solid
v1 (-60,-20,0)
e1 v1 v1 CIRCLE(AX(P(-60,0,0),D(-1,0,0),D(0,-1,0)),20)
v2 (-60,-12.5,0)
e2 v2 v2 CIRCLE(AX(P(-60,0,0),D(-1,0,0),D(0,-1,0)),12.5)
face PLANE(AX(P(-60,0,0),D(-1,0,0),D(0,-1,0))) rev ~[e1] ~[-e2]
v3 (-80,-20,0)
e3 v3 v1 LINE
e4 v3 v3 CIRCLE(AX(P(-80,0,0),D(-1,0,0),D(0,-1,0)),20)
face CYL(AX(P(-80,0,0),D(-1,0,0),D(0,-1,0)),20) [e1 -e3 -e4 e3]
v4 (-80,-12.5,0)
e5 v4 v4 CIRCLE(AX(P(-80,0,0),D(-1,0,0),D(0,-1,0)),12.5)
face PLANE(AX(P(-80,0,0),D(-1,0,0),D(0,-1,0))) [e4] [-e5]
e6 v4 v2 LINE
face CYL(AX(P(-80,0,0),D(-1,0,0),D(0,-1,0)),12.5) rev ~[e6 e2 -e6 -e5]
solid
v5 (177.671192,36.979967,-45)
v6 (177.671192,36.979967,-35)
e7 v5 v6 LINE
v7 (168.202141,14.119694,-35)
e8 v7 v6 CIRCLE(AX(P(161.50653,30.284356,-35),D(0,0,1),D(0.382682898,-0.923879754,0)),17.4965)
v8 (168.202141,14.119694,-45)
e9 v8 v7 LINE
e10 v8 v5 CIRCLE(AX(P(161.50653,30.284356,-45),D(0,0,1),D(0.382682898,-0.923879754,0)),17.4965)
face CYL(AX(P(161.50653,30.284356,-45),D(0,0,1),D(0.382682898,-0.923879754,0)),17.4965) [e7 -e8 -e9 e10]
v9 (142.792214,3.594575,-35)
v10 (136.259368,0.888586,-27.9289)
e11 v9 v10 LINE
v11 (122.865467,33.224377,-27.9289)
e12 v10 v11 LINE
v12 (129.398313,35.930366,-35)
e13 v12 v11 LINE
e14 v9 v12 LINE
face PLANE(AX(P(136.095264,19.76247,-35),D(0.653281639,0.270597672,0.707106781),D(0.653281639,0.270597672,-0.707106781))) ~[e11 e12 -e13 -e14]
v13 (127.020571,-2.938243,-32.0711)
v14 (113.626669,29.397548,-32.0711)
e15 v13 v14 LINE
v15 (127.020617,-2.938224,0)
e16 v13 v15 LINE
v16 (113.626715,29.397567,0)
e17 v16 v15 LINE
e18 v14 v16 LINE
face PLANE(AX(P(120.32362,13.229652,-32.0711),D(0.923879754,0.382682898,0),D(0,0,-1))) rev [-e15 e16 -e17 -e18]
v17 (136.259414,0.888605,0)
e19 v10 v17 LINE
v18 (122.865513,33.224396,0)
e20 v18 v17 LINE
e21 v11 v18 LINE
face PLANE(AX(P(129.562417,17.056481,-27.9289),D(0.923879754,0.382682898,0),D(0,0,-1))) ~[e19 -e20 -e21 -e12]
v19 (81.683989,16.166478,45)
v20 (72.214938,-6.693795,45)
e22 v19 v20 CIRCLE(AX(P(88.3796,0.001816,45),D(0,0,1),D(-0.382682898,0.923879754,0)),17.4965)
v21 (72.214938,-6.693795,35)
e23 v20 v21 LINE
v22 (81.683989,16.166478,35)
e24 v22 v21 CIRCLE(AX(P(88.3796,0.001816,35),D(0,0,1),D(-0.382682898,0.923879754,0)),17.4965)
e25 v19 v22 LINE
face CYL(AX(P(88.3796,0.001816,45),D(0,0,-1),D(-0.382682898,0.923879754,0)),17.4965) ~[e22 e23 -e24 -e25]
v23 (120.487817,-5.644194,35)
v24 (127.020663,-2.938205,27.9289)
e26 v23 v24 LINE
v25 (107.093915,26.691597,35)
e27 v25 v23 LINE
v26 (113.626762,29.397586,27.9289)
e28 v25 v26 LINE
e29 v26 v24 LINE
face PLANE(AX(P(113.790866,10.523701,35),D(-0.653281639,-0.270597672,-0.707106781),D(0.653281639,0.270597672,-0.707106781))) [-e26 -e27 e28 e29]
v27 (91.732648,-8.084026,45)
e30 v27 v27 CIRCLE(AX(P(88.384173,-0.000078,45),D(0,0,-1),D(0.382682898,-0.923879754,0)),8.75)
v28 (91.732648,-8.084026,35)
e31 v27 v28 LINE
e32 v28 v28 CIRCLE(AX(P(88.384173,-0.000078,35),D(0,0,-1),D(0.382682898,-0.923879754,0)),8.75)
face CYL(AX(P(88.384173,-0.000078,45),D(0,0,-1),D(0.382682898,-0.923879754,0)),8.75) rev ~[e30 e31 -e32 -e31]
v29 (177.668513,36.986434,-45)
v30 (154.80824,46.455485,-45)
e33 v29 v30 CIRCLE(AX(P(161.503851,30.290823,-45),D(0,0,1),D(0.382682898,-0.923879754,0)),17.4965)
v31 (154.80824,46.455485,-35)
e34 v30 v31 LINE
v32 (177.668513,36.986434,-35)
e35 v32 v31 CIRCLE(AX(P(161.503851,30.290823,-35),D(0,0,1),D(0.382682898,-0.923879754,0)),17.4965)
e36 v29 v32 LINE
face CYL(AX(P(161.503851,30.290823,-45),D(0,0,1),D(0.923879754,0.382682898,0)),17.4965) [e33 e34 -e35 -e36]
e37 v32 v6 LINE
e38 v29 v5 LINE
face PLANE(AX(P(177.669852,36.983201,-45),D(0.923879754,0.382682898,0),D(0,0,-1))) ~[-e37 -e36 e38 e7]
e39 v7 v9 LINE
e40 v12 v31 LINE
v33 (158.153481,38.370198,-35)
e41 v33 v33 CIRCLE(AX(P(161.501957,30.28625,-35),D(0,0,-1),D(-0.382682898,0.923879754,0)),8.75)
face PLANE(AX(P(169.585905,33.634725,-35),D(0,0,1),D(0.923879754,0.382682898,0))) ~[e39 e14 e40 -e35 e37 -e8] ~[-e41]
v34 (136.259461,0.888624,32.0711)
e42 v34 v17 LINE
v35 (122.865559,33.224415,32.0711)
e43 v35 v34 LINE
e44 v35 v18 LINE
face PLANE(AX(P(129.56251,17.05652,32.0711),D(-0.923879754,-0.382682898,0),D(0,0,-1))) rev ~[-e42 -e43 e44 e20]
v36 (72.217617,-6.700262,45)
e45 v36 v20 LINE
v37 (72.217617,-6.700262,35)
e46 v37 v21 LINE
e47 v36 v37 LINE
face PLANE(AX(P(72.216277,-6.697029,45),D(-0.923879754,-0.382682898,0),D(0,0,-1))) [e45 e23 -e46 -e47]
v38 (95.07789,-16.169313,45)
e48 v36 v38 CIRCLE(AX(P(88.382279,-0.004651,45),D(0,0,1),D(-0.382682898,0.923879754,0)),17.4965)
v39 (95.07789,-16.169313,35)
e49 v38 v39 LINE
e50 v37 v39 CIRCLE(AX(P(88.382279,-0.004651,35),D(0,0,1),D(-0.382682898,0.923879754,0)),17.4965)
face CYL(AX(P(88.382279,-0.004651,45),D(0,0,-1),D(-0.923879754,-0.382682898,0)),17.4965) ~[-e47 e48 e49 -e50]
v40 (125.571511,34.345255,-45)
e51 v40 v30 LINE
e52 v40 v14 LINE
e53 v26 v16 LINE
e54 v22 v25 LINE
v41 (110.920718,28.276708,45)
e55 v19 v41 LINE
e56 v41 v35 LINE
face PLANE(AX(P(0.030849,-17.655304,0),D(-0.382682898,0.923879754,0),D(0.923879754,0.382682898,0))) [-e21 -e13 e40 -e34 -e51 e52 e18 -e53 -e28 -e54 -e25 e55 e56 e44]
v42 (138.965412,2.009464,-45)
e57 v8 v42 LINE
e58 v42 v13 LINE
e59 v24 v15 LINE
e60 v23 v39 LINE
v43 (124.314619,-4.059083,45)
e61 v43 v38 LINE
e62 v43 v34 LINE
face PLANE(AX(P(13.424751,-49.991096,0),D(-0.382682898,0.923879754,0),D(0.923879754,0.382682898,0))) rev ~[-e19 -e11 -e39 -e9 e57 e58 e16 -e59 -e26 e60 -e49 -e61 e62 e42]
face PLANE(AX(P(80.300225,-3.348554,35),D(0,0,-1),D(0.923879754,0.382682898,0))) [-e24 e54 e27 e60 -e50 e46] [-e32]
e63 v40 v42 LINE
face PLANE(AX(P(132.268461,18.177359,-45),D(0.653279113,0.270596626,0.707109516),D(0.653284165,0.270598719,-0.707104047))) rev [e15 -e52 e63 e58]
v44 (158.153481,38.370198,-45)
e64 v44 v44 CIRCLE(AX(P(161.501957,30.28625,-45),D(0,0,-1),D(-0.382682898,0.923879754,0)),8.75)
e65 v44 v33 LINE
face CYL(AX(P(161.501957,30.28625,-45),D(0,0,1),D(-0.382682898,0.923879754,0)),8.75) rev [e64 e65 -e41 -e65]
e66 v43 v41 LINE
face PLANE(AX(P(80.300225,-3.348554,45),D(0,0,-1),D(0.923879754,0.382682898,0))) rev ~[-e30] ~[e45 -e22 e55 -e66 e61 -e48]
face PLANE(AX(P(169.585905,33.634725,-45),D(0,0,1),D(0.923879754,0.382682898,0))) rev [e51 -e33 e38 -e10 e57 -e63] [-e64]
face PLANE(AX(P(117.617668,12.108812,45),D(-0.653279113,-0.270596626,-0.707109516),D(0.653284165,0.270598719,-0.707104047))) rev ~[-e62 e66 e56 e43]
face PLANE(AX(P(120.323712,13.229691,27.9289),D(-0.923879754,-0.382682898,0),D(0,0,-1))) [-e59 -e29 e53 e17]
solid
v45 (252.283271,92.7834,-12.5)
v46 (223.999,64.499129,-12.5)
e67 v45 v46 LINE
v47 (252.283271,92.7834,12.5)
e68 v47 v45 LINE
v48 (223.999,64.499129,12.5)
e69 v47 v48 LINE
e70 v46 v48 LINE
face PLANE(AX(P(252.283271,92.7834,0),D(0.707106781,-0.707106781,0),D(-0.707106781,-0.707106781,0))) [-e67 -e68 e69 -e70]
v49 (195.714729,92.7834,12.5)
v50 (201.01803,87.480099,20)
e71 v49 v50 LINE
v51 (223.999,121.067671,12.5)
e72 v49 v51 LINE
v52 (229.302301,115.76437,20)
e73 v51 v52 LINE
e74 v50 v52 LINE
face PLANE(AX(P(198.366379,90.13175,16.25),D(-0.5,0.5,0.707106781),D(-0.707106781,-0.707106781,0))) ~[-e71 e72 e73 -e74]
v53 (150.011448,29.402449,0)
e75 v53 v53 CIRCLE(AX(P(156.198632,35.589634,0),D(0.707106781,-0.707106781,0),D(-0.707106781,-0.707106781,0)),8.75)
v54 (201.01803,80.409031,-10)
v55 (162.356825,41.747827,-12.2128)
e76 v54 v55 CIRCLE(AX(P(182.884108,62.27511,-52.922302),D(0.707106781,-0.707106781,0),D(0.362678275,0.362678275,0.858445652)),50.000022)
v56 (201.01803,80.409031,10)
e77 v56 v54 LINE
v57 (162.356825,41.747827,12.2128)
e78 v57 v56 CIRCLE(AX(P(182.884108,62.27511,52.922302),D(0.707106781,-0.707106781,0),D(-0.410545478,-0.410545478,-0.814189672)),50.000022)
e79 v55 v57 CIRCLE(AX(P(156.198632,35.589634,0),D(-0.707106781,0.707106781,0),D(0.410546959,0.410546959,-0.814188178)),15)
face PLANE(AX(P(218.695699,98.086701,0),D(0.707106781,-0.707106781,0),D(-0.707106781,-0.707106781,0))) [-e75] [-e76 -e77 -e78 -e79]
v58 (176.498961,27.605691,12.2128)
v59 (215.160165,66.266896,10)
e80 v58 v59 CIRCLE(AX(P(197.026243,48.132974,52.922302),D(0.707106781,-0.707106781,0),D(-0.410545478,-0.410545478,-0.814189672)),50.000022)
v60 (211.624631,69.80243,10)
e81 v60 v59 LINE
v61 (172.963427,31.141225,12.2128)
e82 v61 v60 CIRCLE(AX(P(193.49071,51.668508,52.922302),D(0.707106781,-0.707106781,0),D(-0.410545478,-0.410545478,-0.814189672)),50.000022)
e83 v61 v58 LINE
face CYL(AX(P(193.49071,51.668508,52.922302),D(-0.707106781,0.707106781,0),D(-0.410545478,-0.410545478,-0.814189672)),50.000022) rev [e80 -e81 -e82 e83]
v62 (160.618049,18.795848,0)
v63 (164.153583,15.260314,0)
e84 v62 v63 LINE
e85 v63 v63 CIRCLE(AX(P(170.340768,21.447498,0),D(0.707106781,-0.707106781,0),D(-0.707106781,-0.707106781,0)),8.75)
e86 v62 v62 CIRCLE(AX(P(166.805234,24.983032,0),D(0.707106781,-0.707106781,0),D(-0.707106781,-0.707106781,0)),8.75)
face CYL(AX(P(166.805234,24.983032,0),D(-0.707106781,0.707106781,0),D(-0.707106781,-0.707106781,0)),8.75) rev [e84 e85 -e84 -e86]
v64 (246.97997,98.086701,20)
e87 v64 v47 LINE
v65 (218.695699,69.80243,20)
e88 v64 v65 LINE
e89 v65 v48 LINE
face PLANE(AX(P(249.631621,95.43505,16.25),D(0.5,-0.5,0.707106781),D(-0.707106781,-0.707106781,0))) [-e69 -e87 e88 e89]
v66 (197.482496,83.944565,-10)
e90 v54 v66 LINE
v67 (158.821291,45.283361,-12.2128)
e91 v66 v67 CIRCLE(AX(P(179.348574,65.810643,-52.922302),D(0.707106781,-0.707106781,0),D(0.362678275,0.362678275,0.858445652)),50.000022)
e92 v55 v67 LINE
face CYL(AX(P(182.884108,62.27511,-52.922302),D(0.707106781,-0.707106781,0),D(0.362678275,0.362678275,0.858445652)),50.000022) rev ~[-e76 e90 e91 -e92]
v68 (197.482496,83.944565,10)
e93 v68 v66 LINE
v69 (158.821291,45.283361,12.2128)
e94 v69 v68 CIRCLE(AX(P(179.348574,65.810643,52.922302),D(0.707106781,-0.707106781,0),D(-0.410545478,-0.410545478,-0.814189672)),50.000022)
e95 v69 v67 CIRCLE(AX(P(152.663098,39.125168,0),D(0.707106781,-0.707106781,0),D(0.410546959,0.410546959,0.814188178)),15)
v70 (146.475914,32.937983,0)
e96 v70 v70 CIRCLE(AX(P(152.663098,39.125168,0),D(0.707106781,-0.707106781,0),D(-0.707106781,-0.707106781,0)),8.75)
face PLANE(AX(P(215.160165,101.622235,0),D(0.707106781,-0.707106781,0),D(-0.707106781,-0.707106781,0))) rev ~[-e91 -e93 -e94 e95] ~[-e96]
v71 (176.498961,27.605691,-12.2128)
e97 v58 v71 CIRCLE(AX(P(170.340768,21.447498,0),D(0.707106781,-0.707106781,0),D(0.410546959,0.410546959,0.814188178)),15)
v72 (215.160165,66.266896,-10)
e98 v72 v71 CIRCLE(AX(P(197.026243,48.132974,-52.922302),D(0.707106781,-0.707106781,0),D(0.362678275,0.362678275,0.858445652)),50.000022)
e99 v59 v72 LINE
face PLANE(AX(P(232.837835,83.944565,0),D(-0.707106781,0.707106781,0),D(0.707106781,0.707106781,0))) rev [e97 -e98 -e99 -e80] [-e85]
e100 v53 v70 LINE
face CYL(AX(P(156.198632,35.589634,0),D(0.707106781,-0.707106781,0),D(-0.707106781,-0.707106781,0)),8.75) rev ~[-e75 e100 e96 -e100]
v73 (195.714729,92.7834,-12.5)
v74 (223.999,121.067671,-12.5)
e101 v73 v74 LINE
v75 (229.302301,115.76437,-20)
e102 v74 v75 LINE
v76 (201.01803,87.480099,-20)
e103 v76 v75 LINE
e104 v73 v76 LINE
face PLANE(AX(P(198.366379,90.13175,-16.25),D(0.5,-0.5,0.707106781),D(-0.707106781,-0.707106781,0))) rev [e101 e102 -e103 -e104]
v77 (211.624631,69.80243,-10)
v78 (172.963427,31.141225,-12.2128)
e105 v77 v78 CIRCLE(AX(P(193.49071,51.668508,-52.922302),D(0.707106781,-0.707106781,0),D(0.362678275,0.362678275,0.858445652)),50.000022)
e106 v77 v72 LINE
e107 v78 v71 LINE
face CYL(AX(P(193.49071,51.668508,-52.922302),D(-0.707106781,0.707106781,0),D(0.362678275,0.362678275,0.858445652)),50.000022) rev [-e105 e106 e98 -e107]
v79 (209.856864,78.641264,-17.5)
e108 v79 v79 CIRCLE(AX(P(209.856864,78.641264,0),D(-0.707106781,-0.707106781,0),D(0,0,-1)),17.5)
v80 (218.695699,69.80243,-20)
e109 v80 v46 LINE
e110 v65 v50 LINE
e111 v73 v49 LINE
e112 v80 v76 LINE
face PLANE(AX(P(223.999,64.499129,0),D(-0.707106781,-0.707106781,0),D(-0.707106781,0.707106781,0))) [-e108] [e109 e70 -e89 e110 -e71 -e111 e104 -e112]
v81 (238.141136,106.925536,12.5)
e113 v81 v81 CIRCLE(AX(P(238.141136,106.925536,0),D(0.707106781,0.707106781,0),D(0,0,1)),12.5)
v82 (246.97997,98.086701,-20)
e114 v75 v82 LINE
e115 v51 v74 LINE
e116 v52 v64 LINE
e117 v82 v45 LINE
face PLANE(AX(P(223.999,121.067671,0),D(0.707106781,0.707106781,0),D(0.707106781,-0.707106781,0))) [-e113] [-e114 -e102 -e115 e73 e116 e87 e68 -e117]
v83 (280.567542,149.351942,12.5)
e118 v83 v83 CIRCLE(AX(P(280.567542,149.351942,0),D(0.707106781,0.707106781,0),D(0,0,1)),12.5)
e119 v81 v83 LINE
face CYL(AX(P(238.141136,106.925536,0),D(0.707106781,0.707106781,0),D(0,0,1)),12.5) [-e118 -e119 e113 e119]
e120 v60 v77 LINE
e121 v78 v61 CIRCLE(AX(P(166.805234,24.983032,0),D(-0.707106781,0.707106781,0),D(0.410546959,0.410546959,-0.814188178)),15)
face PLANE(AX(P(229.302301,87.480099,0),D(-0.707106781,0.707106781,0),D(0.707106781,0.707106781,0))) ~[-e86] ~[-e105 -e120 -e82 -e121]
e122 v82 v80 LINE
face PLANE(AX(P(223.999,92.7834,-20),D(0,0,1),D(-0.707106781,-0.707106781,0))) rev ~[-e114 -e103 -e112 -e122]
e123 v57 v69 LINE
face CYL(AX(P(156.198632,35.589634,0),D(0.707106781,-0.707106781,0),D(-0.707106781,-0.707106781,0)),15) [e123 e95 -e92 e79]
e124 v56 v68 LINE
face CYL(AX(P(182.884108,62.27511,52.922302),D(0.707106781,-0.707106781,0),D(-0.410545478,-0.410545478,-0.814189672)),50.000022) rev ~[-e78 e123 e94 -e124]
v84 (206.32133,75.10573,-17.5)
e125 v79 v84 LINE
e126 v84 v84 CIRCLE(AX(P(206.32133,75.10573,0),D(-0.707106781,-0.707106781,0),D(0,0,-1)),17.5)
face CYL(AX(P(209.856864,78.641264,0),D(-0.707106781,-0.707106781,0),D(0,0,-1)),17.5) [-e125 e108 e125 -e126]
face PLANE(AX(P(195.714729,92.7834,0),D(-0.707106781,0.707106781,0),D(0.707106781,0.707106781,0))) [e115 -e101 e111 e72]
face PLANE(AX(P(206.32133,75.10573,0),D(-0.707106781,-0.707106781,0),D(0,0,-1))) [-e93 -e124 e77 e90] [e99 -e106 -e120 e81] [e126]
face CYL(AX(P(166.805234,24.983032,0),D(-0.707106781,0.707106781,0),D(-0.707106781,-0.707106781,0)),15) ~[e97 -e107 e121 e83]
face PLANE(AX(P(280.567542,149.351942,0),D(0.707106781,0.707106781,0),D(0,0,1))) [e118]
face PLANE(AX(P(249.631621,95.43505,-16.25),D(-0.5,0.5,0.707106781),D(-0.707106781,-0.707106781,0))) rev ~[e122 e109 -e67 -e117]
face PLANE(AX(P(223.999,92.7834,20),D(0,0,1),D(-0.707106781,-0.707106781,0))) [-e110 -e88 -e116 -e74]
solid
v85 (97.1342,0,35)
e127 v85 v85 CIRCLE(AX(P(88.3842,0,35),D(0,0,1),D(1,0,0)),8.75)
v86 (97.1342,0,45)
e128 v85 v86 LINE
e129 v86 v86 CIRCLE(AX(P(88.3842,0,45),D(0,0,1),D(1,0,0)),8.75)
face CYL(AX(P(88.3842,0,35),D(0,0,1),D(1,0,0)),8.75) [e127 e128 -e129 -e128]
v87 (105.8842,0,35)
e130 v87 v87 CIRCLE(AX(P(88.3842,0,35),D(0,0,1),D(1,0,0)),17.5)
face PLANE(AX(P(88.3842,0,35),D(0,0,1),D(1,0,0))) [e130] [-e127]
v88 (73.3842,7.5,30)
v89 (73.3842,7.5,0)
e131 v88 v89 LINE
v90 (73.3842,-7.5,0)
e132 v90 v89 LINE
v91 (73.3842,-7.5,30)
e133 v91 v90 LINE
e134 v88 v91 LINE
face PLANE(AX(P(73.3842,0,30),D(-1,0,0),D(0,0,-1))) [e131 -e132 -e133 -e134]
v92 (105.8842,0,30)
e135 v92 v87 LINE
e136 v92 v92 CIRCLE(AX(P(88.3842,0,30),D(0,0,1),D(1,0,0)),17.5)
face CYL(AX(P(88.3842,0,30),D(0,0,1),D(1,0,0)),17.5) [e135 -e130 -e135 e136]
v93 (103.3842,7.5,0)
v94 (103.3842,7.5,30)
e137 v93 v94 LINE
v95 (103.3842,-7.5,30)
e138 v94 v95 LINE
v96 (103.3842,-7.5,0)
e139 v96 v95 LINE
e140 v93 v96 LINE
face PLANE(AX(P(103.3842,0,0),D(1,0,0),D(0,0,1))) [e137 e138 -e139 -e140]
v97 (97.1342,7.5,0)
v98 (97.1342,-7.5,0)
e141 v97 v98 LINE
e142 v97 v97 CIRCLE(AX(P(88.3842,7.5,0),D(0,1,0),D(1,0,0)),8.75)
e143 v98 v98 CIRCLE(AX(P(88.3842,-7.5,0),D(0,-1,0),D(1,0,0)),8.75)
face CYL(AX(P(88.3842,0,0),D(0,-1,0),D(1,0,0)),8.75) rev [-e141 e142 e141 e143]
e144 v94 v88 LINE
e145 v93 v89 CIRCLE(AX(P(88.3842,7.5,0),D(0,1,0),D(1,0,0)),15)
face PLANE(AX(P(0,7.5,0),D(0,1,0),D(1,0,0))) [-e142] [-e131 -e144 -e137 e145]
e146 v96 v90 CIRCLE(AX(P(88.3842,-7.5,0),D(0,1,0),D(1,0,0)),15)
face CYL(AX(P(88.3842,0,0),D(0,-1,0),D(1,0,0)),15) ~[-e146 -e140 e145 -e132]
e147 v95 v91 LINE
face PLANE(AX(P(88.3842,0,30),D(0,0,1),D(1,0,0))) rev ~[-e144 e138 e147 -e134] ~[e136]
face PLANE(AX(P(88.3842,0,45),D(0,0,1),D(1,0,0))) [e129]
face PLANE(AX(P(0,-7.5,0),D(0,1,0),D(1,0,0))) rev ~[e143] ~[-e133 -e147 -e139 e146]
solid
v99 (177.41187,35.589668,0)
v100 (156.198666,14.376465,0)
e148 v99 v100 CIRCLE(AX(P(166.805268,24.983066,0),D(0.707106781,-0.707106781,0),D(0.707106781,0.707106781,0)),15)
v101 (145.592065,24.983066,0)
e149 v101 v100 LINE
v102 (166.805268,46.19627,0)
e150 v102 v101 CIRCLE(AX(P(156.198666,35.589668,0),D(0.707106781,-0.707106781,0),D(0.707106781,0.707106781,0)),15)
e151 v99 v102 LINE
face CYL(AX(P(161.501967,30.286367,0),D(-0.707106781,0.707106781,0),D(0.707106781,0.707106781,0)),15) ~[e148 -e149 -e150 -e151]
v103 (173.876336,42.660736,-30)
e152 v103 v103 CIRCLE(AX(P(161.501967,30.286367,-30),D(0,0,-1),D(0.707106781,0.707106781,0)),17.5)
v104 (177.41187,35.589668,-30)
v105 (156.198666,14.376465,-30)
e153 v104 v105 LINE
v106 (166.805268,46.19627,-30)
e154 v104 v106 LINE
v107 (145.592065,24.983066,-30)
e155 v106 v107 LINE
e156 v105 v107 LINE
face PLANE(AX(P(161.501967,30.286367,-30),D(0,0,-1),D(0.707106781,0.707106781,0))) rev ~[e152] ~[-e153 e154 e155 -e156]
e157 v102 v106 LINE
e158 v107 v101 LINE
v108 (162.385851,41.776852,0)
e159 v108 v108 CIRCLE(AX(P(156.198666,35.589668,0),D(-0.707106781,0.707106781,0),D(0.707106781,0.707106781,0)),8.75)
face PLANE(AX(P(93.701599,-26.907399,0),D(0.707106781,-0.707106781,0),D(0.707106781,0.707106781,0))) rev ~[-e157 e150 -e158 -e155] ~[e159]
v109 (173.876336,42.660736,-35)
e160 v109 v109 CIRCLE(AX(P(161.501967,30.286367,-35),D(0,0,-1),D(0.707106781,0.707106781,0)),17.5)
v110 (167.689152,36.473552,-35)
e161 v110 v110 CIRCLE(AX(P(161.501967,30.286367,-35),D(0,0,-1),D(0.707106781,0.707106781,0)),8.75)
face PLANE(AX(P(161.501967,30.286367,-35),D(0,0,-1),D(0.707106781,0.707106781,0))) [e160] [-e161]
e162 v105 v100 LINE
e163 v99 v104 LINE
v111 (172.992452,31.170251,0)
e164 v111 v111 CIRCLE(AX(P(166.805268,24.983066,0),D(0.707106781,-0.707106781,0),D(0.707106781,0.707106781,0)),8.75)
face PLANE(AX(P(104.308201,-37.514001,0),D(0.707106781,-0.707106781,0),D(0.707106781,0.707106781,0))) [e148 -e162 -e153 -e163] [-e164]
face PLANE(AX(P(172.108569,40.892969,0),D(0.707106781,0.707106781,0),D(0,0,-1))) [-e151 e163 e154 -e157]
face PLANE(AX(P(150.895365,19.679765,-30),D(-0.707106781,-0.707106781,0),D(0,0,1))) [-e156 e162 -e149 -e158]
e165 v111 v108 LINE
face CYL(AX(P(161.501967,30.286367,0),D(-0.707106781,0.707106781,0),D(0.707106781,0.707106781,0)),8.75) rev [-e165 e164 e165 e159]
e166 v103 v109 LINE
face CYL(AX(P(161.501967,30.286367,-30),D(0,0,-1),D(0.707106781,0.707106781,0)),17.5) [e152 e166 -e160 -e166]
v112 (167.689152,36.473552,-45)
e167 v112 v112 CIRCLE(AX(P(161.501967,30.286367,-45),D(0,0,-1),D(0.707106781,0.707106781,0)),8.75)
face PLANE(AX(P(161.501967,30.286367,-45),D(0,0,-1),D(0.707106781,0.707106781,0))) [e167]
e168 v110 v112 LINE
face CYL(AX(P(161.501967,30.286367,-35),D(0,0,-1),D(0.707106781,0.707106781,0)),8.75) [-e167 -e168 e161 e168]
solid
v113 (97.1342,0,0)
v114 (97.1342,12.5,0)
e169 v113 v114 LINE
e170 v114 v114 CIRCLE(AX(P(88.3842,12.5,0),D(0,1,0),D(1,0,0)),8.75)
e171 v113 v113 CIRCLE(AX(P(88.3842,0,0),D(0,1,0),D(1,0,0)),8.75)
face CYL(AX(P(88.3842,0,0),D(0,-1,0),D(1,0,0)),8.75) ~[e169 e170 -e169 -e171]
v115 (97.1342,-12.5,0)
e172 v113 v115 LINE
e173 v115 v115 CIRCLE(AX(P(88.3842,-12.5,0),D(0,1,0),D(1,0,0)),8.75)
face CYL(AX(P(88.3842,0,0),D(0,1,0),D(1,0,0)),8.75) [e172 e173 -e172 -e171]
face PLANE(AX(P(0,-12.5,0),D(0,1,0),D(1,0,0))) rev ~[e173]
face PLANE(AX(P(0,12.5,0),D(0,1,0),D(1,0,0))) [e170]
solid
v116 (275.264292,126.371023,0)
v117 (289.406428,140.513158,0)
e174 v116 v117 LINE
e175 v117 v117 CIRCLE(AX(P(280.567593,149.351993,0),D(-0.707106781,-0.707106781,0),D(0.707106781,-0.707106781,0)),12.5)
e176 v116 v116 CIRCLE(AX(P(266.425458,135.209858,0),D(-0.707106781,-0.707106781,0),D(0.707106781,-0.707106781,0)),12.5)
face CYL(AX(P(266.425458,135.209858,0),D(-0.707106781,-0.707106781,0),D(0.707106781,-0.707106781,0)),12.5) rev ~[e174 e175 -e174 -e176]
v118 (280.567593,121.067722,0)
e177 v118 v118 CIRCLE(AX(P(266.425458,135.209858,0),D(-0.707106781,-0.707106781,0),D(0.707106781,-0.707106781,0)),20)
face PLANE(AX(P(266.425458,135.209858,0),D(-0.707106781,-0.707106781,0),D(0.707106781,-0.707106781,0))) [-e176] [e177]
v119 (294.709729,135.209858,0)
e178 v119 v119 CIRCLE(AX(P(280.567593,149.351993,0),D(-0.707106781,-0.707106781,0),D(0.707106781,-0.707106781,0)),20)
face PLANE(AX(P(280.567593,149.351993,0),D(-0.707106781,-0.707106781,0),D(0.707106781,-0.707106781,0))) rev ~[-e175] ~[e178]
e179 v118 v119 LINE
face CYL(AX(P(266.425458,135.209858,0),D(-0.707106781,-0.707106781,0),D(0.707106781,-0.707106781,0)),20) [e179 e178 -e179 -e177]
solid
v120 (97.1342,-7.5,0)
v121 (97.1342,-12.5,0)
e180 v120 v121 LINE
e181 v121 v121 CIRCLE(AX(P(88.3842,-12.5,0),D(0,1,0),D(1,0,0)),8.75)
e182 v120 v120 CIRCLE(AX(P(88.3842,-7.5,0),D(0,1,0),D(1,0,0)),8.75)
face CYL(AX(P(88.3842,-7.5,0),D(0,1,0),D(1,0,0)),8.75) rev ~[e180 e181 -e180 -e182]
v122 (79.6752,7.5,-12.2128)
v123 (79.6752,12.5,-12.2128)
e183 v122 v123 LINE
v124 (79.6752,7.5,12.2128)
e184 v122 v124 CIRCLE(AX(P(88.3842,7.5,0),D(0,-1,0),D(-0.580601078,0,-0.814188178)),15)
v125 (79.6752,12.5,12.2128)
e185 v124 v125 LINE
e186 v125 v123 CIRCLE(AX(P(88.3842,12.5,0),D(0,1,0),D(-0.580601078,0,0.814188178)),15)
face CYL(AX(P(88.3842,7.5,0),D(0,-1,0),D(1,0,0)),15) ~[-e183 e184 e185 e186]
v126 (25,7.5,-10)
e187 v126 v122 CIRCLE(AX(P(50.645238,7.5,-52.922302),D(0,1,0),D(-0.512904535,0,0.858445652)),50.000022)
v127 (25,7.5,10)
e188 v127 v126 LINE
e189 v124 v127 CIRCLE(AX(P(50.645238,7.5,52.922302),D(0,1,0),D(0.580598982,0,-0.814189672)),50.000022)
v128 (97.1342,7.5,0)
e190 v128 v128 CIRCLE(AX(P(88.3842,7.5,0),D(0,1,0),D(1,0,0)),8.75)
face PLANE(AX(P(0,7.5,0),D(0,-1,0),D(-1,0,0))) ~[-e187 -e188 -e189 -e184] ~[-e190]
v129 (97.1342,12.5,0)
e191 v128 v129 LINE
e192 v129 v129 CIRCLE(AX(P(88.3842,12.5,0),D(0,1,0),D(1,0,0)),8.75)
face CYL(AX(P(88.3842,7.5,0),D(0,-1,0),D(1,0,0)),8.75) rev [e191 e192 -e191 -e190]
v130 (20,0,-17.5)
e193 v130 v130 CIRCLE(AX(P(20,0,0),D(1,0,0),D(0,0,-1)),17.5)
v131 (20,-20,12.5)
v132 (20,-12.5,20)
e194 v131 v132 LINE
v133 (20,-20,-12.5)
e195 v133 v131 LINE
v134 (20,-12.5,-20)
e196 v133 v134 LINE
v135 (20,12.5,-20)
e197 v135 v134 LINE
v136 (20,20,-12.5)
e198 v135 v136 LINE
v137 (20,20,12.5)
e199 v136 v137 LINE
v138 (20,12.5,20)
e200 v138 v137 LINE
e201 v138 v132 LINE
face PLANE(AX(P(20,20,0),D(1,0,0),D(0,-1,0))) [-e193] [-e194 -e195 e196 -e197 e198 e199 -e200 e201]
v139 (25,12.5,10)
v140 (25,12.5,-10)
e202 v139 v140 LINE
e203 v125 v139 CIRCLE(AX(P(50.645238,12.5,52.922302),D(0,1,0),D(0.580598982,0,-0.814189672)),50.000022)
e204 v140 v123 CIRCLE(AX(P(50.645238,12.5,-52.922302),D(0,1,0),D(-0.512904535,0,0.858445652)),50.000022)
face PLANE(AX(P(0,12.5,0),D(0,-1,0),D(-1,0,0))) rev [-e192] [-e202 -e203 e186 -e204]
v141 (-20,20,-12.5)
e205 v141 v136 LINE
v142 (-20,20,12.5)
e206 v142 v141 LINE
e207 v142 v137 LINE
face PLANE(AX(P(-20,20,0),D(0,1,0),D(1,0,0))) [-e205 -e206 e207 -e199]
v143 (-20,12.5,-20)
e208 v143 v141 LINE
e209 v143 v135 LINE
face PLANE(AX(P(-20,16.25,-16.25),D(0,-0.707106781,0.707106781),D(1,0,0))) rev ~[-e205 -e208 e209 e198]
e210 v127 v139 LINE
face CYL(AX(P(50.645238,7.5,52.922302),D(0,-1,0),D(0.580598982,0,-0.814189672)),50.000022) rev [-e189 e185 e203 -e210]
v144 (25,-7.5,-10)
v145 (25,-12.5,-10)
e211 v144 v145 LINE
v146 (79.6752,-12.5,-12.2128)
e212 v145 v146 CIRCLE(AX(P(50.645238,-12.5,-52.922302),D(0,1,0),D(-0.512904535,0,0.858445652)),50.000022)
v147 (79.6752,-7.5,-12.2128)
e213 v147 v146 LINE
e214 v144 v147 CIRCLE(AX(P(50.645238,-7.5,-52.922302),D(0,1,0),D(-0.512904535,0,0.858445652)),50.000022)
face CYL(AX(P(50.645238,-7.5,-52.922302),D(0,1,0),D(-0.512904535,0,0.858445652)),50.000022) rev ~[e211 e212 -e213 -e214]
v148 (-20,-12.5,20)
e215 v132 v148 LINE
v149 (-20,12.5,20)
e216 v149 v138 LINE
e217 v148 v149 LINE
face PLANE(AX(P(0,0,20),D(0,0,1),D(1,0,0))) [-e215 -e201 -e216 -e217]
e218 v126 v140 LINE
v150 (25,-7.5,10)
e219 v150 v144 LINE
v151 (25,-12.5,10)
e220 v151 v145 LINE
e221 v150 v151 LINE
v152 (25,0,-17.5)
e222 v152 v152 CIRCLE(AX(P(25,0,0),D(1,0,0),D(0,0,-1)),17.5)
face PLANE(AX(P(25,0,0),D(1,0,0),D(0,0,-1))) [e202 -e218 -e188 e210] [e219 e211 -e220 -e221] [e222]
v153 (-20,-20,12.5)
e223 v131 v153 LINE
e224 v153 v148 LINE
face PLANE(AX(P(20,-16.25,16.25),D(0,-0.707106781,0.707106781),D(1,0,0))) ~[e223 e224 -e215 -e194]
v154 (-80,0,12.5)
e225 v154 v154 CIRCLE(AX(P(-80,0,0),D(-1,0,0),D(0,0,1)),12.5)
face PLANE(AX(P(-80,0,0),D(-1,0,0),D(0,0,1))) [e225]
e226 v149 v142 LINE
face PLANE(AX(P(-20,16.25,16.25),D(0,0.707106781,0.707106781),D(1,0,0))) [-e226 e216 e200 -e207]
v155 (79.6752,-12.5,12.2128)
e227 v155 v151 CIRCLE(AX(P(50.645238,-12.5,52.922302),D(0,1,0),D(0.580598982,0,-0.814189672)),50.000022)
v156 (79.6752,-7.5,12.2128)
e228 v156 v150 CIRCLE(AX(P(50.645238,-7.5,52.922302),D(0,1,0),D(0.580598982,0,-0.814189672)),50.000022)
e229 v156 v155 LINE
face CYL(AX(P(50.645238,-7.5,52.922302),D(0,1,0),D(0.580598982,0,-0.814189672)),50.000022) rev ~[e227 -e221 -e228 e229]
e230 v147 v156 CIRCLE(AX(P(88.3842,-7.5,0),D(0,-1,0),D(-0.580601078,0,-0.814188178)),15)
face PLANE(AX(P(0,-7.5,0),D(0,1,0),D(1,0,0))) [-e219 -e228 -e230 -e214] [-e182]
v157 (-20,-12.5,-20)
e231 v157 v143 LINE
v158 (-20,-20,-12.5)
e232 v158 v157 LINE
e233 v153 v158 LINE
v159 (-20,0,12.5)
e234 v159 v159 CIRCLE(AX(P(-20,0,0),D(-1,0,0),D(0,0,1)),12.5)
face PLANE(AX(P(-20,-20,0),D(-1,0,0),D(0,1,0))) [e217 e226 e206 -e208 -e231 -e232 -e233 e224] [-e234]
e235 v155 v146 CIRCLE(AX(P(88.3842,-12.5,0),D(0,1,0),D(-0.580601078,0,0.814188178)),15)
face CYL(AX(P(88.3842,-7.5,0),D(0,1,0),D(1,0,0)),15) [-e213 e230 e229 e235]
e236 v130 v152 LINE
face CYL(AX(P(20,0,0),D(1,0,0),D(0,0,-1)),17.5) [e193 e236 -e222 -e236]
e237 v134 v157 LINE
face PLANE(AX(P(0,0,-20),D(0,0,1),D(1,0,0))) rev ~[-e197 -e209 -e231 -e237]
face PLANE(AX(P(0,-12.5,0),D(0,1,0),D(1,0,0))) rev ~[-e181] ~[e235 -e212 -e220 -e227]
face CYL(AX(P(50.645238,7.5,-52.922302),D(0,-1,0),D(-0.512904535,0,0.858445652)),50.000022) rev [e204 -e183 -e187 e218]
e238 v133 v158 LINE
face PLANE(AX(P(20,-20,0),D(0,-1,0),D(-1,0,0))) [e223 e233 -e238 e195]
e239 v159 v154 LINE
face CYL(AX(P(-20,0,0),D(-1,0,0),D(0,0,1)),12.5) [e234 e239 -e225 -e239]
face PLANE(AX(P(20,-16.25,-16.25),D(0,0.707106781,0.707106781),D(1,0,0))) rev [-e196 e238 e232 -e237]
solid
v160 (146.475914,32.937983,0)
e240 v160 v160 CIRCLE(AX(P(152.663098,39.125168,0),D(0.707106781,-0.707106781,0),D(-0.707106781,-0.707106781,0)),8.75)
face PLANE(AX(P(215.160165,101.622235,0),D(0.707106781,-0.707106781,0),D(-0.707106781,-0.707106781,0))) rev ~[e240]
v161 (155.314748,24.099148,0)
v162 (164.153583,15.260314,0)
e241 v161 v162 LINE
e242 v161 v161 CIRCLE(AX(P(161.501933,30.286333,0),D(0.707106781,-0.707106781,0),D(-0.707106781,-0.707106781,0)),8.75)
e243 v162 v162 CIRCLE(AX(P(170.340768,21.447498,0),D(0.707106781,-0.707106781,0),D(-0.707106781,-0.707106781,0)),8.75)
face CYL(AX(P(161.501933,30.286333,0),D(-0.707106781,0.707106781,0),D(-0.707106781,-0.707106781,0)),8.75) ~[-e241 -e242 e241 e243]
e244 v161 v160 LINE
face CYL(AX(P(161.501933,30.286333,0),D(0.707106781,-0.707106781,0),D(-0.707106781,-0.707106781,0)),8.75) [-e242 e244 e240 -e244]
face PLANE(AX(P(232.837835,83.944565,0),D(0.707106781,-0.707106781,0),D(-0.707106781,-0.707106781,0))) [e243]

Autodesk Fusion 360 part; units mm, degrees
sketch "Sketch1" plane through (0, 0, 0) normal (0, 0, 1) x (1, 0, 0) in component "Fork"
  line L0 (20, -20) -> (-20, -20)
  line L1 (-20, -20) -> (-20, 20)
  line L2 (-20, 20) -> (20, 20)
  line L3 (20, 20) -> (20, -20)
  line L4 (20, -20) -> (-20, 20) construction
  line L5 (-20, -20) -> (20, 20) construction
  dimension "d1" = 40
  dimension "d2" = 40
extrude "Extrude1" add sketch "Sketch1" along normal mid plane 40 makes body 1 in component "Fork"
cylinder "CylinderPrimitive1" add diameter 35 height 5 placed x (0, 0, -1) y (0, 1, 0) z (1, 0, 0) at (20, 0, 0) bodies 1 in component "Fork"
cylinder "CylinderPrimitive2" add diameter 25 height 60 placed x (0, 0, 1) y (0, 1, 0) z (-1, 0, 0) at (-20, 0, 0) bodies 1 in component "Fork"
sketch "Sketch4" plane through (0, 0, 0) normal (0, 1, 0) x (1, 0, 0) in component "Fork"
  line L0 (-80, 12.5) -> (-80, -12.5)
  line L1 (25, -17.5) -> (25, 17.5)
  line L2 (20, 20) -> (-20, 20)
  line L3 (20, 20) -> (20, 17.5)
  line L4 (20, -17.5) -> (20, -20)
  line L5 (-20, -20) -> (20, -20)
  line L6 (-20, 20) -> (-20, 12.5)
  line L7 (-20, -12.5) -> (-20, -20)
  line L8 (-20, 12.5) -> (-80, 12.5)
  line L9 (-20, -12.5) -> (-80, -12.5)
  line L10 (20, -17.5) -> (25, -17.5)
  line L11 (20, 17.5) -> (25, 17.5)
  circle A0 centre (88.3842, 0) radius 15
  circle A1 centre (88.3842, 0) radius 8.75
  arc A2 (79.6752, -12.2128) -> (25, -10) centre (50.6452, -52.9223) ccw
  line L12 (25, 0) -> (52.3221, 0) construction
  arc A3 (25, 10) -> (79.6752, 12.2128) centre (50.6452, 52.9223) ccw
  dimension "d9" = 30
  dimension "d10" = 17.5
  dimension "d11" = 7.5
  dimension "d12" = 50
extrude "Extrude2" add sketch "Sketch4" against normal blind 5 from surface at -7.5 contours L1 A0 A2 A3 | A0 bodies 1 in component "Fork"
mirror "Mirror1" about plane through (0, 0, 0) normal (0, 1, 0) of "Extrude2" in component "Fork"
extrude "Extrude3" add sketch "Sketch4" along normal mid plane 25 separate body contours A1 makes body 2 in component "Fork"
chamfer "Chamfer1" distance 7.5 angle 45 4 edges at (0, -20, 20) (0, 20, 20) (0, -20, -20) (0, 20, -20) on bodies 1 in component "Fork"
sketch "Sketch1 (2)" plane through (0, 0, 0) normal (0, 1, 0) x (1, 0, 0) in component "Rotar"
  circle A0 centre (88.3842, 0) radius 8.75
  circle A1 centre (88.3842, 0) radius 15
  line L0 (73.3842, 0) -> (103.3842, 0)
  line L1 (103.3842, 0) -> (103.3842, -30)
  line L2 (103.3842, -30) -> (73.3842, -30)
  line L3 (73.3842, -30) -> (73.3842, 0)
  dimension "d21" = 30
  dimension "d22" = 30
  dimension "d23" = 30
extrude "Extrude1'" add sketch "Sketch1 (2)" along normal mid plane 15 separate body contours A0 A1 L0 | A0 A1 L0 | A1 L1 L2 L3 makes body 3 in component "Rotar"
cylinder "CylinderPrimitive1'" add diameter 35 height 5 placed x (1, 0, 0) y (0, 1, 0) z (0, 0, 1) at (88.3842, 0, 30) bodies 3 in component "Rotar"
cylinder "CylinderPrimitive2'" add diameter 17.5 height 10 placed x (1, 0, 0) y (0, 1, 0) z (0, 0, 1) at (88.3842, 0, 35) bodies 3 in component "Rotar"
sketch "Sketch1 (3)" plane through (0, 0, 0) normal (0, 1, 0) x (1, 0, 0) in component "S link"
  line L0 (79.6342, -45) -> (97.1342, -45)
  line L1 (105.8842, -30) -> (103.3842, -30)
  line L2 (73.3842, -30) -> (70.8842, -30)
  line L3 (70.8842, -35) -> (79.6342, -35)
  line L4 (97.1342, -35) -> (105.8842, -35)
  circle A0 centre (88.3842, 0) radius 8.75
  arc A1 (103.3842, 0) -> (73.3842, 0) centre (88.3842, 0) ccw
  line L5 (103.3842, 0) -> (103.3842, -30)
  line L6 (73.3842, -30) -> (73.3842, 0)
  line L7 (79.6342, -35) -> (79.6342, -45)
  line L8 (97.1342, -35) -> (97.1342, -45)
  line L9 (70.8842, -30) -> (70.8842, -35)
  line L10 (105.8842, -30) -> (105.8842, -35)
  line L11 (70.8842, -35) -> (105.8842, -35)
  line L12 (105.8842, -35) -> (105.8842, -45)
  line L13 (105.8842, -45) -> (70.8842, -45)
  line L14 (70.8842, -45) -> (70.8842, -35)
  line L15 (105.8842, -35) -> (115.8842, -35)
  line L16 (115.8842, -35) -> (122.9553, -27.9289)
  line L17 (115.8842, -35) -> (105.8842, -35) construction
  line L18 (122.9553, -27.9289) -> (122.9553, 0)
  line L19 (105.8842, -45) -> (120.0263, -45)
  line L20 (120.0263, -45) -> (132.9553, -32.0711)
  line L21 (132.9553, -32.0711) -> (132.9553, 0)
  line L22 (122.9553, 0) -> (132.9553, 0)
  dimension "d30" = 35
  dimension "d31" = 10
  dimension "d32" = 10
  dimension "d33" = 135
  dimension "d34" = 10
  dimension "d35" = 10
extrude "Extrude1''" add sketch "Sketch1 (3)" along normal mid plane 35 separate body contours L0 L7 L8 L11 L13 | L3 L7 L11 L13 L14 | L4 L8 L11 L12 L13 | L12 L15 L16 L18 L19 L20 L21 L22 makes body 4 in component "S link"
fillet "Fillet1" radius 17.5 2 edges at (70.8842, -17.5, 40) (70.8842, 17.5, 40) on bodies 4 in component "S link"
hole "Hole1" at (88.3842, 0, 45) direction (0, 0, -1) diameter 17.5 end through all bodies 4 in component "S link"
mirror "Mirror1'" about plane through (122.9553, 0, 0) normal (0, 0, -1) of bodies 4 makes body 5 in component "S link"
move_body "Move1" bodies 5 to x (-1, 0, 0) y (0, -1, 0) z (0, 0, 1) at (255.9105, 0, 0) in component "S link"
combine "Combine1" operation add target body 4 tool bodies 5 in component "S link"
sketch "Sketch1 (4)" plane through (-80, 0, 0) normal (-1, 0, 0) x (0, -1, 0)
  circle A0 centre (0, 0) radius 12.5
  circle A1 centre (0, 0) radius 20
  dimension "d45" = 40
extrude "Extrude1'''" add sketch "Sketch1 (4)" against normal blind 20 separate body makes body 6 in component "Component"
component "Fork" placed x (1, 0, 0) y (0, 1, 0) z (0, 0, 1) at (0, 0, 0)
component "Fork" placed x (-0.707107, -0.707107, 0) y (0.707107, -0.707107, 0) z (0, 0, 1) at (223.999, 92.7834, 0)
component "Rotar" placed x (1, 0, 0) y (0, 1, 0) z (0, 0, 1) at (0, 0, 0)
component "Rotar" placed x (0.707107, 0.707107, 0) y (0.707107, -0.707107, 0) z (0, 0, -1) at (99.0049, -32.2107, 0)
component "S link" placed x (0.92388, 0.382683, 0) y (-0.382683, 0.92388, 0) z (0, 0, 1) at (6.7278, -33.8232, 0)
component "Component" placed x (1, 0, 0) y (0, 1, 0) z (0, 0, 1) at (0, 0, 0)
component "Component" placed x (0.707107, 0.707107, 0) y (-0.707107, 0.707107, 0) z (0, 0, 1) at (322.994, 191.7784, 0)
